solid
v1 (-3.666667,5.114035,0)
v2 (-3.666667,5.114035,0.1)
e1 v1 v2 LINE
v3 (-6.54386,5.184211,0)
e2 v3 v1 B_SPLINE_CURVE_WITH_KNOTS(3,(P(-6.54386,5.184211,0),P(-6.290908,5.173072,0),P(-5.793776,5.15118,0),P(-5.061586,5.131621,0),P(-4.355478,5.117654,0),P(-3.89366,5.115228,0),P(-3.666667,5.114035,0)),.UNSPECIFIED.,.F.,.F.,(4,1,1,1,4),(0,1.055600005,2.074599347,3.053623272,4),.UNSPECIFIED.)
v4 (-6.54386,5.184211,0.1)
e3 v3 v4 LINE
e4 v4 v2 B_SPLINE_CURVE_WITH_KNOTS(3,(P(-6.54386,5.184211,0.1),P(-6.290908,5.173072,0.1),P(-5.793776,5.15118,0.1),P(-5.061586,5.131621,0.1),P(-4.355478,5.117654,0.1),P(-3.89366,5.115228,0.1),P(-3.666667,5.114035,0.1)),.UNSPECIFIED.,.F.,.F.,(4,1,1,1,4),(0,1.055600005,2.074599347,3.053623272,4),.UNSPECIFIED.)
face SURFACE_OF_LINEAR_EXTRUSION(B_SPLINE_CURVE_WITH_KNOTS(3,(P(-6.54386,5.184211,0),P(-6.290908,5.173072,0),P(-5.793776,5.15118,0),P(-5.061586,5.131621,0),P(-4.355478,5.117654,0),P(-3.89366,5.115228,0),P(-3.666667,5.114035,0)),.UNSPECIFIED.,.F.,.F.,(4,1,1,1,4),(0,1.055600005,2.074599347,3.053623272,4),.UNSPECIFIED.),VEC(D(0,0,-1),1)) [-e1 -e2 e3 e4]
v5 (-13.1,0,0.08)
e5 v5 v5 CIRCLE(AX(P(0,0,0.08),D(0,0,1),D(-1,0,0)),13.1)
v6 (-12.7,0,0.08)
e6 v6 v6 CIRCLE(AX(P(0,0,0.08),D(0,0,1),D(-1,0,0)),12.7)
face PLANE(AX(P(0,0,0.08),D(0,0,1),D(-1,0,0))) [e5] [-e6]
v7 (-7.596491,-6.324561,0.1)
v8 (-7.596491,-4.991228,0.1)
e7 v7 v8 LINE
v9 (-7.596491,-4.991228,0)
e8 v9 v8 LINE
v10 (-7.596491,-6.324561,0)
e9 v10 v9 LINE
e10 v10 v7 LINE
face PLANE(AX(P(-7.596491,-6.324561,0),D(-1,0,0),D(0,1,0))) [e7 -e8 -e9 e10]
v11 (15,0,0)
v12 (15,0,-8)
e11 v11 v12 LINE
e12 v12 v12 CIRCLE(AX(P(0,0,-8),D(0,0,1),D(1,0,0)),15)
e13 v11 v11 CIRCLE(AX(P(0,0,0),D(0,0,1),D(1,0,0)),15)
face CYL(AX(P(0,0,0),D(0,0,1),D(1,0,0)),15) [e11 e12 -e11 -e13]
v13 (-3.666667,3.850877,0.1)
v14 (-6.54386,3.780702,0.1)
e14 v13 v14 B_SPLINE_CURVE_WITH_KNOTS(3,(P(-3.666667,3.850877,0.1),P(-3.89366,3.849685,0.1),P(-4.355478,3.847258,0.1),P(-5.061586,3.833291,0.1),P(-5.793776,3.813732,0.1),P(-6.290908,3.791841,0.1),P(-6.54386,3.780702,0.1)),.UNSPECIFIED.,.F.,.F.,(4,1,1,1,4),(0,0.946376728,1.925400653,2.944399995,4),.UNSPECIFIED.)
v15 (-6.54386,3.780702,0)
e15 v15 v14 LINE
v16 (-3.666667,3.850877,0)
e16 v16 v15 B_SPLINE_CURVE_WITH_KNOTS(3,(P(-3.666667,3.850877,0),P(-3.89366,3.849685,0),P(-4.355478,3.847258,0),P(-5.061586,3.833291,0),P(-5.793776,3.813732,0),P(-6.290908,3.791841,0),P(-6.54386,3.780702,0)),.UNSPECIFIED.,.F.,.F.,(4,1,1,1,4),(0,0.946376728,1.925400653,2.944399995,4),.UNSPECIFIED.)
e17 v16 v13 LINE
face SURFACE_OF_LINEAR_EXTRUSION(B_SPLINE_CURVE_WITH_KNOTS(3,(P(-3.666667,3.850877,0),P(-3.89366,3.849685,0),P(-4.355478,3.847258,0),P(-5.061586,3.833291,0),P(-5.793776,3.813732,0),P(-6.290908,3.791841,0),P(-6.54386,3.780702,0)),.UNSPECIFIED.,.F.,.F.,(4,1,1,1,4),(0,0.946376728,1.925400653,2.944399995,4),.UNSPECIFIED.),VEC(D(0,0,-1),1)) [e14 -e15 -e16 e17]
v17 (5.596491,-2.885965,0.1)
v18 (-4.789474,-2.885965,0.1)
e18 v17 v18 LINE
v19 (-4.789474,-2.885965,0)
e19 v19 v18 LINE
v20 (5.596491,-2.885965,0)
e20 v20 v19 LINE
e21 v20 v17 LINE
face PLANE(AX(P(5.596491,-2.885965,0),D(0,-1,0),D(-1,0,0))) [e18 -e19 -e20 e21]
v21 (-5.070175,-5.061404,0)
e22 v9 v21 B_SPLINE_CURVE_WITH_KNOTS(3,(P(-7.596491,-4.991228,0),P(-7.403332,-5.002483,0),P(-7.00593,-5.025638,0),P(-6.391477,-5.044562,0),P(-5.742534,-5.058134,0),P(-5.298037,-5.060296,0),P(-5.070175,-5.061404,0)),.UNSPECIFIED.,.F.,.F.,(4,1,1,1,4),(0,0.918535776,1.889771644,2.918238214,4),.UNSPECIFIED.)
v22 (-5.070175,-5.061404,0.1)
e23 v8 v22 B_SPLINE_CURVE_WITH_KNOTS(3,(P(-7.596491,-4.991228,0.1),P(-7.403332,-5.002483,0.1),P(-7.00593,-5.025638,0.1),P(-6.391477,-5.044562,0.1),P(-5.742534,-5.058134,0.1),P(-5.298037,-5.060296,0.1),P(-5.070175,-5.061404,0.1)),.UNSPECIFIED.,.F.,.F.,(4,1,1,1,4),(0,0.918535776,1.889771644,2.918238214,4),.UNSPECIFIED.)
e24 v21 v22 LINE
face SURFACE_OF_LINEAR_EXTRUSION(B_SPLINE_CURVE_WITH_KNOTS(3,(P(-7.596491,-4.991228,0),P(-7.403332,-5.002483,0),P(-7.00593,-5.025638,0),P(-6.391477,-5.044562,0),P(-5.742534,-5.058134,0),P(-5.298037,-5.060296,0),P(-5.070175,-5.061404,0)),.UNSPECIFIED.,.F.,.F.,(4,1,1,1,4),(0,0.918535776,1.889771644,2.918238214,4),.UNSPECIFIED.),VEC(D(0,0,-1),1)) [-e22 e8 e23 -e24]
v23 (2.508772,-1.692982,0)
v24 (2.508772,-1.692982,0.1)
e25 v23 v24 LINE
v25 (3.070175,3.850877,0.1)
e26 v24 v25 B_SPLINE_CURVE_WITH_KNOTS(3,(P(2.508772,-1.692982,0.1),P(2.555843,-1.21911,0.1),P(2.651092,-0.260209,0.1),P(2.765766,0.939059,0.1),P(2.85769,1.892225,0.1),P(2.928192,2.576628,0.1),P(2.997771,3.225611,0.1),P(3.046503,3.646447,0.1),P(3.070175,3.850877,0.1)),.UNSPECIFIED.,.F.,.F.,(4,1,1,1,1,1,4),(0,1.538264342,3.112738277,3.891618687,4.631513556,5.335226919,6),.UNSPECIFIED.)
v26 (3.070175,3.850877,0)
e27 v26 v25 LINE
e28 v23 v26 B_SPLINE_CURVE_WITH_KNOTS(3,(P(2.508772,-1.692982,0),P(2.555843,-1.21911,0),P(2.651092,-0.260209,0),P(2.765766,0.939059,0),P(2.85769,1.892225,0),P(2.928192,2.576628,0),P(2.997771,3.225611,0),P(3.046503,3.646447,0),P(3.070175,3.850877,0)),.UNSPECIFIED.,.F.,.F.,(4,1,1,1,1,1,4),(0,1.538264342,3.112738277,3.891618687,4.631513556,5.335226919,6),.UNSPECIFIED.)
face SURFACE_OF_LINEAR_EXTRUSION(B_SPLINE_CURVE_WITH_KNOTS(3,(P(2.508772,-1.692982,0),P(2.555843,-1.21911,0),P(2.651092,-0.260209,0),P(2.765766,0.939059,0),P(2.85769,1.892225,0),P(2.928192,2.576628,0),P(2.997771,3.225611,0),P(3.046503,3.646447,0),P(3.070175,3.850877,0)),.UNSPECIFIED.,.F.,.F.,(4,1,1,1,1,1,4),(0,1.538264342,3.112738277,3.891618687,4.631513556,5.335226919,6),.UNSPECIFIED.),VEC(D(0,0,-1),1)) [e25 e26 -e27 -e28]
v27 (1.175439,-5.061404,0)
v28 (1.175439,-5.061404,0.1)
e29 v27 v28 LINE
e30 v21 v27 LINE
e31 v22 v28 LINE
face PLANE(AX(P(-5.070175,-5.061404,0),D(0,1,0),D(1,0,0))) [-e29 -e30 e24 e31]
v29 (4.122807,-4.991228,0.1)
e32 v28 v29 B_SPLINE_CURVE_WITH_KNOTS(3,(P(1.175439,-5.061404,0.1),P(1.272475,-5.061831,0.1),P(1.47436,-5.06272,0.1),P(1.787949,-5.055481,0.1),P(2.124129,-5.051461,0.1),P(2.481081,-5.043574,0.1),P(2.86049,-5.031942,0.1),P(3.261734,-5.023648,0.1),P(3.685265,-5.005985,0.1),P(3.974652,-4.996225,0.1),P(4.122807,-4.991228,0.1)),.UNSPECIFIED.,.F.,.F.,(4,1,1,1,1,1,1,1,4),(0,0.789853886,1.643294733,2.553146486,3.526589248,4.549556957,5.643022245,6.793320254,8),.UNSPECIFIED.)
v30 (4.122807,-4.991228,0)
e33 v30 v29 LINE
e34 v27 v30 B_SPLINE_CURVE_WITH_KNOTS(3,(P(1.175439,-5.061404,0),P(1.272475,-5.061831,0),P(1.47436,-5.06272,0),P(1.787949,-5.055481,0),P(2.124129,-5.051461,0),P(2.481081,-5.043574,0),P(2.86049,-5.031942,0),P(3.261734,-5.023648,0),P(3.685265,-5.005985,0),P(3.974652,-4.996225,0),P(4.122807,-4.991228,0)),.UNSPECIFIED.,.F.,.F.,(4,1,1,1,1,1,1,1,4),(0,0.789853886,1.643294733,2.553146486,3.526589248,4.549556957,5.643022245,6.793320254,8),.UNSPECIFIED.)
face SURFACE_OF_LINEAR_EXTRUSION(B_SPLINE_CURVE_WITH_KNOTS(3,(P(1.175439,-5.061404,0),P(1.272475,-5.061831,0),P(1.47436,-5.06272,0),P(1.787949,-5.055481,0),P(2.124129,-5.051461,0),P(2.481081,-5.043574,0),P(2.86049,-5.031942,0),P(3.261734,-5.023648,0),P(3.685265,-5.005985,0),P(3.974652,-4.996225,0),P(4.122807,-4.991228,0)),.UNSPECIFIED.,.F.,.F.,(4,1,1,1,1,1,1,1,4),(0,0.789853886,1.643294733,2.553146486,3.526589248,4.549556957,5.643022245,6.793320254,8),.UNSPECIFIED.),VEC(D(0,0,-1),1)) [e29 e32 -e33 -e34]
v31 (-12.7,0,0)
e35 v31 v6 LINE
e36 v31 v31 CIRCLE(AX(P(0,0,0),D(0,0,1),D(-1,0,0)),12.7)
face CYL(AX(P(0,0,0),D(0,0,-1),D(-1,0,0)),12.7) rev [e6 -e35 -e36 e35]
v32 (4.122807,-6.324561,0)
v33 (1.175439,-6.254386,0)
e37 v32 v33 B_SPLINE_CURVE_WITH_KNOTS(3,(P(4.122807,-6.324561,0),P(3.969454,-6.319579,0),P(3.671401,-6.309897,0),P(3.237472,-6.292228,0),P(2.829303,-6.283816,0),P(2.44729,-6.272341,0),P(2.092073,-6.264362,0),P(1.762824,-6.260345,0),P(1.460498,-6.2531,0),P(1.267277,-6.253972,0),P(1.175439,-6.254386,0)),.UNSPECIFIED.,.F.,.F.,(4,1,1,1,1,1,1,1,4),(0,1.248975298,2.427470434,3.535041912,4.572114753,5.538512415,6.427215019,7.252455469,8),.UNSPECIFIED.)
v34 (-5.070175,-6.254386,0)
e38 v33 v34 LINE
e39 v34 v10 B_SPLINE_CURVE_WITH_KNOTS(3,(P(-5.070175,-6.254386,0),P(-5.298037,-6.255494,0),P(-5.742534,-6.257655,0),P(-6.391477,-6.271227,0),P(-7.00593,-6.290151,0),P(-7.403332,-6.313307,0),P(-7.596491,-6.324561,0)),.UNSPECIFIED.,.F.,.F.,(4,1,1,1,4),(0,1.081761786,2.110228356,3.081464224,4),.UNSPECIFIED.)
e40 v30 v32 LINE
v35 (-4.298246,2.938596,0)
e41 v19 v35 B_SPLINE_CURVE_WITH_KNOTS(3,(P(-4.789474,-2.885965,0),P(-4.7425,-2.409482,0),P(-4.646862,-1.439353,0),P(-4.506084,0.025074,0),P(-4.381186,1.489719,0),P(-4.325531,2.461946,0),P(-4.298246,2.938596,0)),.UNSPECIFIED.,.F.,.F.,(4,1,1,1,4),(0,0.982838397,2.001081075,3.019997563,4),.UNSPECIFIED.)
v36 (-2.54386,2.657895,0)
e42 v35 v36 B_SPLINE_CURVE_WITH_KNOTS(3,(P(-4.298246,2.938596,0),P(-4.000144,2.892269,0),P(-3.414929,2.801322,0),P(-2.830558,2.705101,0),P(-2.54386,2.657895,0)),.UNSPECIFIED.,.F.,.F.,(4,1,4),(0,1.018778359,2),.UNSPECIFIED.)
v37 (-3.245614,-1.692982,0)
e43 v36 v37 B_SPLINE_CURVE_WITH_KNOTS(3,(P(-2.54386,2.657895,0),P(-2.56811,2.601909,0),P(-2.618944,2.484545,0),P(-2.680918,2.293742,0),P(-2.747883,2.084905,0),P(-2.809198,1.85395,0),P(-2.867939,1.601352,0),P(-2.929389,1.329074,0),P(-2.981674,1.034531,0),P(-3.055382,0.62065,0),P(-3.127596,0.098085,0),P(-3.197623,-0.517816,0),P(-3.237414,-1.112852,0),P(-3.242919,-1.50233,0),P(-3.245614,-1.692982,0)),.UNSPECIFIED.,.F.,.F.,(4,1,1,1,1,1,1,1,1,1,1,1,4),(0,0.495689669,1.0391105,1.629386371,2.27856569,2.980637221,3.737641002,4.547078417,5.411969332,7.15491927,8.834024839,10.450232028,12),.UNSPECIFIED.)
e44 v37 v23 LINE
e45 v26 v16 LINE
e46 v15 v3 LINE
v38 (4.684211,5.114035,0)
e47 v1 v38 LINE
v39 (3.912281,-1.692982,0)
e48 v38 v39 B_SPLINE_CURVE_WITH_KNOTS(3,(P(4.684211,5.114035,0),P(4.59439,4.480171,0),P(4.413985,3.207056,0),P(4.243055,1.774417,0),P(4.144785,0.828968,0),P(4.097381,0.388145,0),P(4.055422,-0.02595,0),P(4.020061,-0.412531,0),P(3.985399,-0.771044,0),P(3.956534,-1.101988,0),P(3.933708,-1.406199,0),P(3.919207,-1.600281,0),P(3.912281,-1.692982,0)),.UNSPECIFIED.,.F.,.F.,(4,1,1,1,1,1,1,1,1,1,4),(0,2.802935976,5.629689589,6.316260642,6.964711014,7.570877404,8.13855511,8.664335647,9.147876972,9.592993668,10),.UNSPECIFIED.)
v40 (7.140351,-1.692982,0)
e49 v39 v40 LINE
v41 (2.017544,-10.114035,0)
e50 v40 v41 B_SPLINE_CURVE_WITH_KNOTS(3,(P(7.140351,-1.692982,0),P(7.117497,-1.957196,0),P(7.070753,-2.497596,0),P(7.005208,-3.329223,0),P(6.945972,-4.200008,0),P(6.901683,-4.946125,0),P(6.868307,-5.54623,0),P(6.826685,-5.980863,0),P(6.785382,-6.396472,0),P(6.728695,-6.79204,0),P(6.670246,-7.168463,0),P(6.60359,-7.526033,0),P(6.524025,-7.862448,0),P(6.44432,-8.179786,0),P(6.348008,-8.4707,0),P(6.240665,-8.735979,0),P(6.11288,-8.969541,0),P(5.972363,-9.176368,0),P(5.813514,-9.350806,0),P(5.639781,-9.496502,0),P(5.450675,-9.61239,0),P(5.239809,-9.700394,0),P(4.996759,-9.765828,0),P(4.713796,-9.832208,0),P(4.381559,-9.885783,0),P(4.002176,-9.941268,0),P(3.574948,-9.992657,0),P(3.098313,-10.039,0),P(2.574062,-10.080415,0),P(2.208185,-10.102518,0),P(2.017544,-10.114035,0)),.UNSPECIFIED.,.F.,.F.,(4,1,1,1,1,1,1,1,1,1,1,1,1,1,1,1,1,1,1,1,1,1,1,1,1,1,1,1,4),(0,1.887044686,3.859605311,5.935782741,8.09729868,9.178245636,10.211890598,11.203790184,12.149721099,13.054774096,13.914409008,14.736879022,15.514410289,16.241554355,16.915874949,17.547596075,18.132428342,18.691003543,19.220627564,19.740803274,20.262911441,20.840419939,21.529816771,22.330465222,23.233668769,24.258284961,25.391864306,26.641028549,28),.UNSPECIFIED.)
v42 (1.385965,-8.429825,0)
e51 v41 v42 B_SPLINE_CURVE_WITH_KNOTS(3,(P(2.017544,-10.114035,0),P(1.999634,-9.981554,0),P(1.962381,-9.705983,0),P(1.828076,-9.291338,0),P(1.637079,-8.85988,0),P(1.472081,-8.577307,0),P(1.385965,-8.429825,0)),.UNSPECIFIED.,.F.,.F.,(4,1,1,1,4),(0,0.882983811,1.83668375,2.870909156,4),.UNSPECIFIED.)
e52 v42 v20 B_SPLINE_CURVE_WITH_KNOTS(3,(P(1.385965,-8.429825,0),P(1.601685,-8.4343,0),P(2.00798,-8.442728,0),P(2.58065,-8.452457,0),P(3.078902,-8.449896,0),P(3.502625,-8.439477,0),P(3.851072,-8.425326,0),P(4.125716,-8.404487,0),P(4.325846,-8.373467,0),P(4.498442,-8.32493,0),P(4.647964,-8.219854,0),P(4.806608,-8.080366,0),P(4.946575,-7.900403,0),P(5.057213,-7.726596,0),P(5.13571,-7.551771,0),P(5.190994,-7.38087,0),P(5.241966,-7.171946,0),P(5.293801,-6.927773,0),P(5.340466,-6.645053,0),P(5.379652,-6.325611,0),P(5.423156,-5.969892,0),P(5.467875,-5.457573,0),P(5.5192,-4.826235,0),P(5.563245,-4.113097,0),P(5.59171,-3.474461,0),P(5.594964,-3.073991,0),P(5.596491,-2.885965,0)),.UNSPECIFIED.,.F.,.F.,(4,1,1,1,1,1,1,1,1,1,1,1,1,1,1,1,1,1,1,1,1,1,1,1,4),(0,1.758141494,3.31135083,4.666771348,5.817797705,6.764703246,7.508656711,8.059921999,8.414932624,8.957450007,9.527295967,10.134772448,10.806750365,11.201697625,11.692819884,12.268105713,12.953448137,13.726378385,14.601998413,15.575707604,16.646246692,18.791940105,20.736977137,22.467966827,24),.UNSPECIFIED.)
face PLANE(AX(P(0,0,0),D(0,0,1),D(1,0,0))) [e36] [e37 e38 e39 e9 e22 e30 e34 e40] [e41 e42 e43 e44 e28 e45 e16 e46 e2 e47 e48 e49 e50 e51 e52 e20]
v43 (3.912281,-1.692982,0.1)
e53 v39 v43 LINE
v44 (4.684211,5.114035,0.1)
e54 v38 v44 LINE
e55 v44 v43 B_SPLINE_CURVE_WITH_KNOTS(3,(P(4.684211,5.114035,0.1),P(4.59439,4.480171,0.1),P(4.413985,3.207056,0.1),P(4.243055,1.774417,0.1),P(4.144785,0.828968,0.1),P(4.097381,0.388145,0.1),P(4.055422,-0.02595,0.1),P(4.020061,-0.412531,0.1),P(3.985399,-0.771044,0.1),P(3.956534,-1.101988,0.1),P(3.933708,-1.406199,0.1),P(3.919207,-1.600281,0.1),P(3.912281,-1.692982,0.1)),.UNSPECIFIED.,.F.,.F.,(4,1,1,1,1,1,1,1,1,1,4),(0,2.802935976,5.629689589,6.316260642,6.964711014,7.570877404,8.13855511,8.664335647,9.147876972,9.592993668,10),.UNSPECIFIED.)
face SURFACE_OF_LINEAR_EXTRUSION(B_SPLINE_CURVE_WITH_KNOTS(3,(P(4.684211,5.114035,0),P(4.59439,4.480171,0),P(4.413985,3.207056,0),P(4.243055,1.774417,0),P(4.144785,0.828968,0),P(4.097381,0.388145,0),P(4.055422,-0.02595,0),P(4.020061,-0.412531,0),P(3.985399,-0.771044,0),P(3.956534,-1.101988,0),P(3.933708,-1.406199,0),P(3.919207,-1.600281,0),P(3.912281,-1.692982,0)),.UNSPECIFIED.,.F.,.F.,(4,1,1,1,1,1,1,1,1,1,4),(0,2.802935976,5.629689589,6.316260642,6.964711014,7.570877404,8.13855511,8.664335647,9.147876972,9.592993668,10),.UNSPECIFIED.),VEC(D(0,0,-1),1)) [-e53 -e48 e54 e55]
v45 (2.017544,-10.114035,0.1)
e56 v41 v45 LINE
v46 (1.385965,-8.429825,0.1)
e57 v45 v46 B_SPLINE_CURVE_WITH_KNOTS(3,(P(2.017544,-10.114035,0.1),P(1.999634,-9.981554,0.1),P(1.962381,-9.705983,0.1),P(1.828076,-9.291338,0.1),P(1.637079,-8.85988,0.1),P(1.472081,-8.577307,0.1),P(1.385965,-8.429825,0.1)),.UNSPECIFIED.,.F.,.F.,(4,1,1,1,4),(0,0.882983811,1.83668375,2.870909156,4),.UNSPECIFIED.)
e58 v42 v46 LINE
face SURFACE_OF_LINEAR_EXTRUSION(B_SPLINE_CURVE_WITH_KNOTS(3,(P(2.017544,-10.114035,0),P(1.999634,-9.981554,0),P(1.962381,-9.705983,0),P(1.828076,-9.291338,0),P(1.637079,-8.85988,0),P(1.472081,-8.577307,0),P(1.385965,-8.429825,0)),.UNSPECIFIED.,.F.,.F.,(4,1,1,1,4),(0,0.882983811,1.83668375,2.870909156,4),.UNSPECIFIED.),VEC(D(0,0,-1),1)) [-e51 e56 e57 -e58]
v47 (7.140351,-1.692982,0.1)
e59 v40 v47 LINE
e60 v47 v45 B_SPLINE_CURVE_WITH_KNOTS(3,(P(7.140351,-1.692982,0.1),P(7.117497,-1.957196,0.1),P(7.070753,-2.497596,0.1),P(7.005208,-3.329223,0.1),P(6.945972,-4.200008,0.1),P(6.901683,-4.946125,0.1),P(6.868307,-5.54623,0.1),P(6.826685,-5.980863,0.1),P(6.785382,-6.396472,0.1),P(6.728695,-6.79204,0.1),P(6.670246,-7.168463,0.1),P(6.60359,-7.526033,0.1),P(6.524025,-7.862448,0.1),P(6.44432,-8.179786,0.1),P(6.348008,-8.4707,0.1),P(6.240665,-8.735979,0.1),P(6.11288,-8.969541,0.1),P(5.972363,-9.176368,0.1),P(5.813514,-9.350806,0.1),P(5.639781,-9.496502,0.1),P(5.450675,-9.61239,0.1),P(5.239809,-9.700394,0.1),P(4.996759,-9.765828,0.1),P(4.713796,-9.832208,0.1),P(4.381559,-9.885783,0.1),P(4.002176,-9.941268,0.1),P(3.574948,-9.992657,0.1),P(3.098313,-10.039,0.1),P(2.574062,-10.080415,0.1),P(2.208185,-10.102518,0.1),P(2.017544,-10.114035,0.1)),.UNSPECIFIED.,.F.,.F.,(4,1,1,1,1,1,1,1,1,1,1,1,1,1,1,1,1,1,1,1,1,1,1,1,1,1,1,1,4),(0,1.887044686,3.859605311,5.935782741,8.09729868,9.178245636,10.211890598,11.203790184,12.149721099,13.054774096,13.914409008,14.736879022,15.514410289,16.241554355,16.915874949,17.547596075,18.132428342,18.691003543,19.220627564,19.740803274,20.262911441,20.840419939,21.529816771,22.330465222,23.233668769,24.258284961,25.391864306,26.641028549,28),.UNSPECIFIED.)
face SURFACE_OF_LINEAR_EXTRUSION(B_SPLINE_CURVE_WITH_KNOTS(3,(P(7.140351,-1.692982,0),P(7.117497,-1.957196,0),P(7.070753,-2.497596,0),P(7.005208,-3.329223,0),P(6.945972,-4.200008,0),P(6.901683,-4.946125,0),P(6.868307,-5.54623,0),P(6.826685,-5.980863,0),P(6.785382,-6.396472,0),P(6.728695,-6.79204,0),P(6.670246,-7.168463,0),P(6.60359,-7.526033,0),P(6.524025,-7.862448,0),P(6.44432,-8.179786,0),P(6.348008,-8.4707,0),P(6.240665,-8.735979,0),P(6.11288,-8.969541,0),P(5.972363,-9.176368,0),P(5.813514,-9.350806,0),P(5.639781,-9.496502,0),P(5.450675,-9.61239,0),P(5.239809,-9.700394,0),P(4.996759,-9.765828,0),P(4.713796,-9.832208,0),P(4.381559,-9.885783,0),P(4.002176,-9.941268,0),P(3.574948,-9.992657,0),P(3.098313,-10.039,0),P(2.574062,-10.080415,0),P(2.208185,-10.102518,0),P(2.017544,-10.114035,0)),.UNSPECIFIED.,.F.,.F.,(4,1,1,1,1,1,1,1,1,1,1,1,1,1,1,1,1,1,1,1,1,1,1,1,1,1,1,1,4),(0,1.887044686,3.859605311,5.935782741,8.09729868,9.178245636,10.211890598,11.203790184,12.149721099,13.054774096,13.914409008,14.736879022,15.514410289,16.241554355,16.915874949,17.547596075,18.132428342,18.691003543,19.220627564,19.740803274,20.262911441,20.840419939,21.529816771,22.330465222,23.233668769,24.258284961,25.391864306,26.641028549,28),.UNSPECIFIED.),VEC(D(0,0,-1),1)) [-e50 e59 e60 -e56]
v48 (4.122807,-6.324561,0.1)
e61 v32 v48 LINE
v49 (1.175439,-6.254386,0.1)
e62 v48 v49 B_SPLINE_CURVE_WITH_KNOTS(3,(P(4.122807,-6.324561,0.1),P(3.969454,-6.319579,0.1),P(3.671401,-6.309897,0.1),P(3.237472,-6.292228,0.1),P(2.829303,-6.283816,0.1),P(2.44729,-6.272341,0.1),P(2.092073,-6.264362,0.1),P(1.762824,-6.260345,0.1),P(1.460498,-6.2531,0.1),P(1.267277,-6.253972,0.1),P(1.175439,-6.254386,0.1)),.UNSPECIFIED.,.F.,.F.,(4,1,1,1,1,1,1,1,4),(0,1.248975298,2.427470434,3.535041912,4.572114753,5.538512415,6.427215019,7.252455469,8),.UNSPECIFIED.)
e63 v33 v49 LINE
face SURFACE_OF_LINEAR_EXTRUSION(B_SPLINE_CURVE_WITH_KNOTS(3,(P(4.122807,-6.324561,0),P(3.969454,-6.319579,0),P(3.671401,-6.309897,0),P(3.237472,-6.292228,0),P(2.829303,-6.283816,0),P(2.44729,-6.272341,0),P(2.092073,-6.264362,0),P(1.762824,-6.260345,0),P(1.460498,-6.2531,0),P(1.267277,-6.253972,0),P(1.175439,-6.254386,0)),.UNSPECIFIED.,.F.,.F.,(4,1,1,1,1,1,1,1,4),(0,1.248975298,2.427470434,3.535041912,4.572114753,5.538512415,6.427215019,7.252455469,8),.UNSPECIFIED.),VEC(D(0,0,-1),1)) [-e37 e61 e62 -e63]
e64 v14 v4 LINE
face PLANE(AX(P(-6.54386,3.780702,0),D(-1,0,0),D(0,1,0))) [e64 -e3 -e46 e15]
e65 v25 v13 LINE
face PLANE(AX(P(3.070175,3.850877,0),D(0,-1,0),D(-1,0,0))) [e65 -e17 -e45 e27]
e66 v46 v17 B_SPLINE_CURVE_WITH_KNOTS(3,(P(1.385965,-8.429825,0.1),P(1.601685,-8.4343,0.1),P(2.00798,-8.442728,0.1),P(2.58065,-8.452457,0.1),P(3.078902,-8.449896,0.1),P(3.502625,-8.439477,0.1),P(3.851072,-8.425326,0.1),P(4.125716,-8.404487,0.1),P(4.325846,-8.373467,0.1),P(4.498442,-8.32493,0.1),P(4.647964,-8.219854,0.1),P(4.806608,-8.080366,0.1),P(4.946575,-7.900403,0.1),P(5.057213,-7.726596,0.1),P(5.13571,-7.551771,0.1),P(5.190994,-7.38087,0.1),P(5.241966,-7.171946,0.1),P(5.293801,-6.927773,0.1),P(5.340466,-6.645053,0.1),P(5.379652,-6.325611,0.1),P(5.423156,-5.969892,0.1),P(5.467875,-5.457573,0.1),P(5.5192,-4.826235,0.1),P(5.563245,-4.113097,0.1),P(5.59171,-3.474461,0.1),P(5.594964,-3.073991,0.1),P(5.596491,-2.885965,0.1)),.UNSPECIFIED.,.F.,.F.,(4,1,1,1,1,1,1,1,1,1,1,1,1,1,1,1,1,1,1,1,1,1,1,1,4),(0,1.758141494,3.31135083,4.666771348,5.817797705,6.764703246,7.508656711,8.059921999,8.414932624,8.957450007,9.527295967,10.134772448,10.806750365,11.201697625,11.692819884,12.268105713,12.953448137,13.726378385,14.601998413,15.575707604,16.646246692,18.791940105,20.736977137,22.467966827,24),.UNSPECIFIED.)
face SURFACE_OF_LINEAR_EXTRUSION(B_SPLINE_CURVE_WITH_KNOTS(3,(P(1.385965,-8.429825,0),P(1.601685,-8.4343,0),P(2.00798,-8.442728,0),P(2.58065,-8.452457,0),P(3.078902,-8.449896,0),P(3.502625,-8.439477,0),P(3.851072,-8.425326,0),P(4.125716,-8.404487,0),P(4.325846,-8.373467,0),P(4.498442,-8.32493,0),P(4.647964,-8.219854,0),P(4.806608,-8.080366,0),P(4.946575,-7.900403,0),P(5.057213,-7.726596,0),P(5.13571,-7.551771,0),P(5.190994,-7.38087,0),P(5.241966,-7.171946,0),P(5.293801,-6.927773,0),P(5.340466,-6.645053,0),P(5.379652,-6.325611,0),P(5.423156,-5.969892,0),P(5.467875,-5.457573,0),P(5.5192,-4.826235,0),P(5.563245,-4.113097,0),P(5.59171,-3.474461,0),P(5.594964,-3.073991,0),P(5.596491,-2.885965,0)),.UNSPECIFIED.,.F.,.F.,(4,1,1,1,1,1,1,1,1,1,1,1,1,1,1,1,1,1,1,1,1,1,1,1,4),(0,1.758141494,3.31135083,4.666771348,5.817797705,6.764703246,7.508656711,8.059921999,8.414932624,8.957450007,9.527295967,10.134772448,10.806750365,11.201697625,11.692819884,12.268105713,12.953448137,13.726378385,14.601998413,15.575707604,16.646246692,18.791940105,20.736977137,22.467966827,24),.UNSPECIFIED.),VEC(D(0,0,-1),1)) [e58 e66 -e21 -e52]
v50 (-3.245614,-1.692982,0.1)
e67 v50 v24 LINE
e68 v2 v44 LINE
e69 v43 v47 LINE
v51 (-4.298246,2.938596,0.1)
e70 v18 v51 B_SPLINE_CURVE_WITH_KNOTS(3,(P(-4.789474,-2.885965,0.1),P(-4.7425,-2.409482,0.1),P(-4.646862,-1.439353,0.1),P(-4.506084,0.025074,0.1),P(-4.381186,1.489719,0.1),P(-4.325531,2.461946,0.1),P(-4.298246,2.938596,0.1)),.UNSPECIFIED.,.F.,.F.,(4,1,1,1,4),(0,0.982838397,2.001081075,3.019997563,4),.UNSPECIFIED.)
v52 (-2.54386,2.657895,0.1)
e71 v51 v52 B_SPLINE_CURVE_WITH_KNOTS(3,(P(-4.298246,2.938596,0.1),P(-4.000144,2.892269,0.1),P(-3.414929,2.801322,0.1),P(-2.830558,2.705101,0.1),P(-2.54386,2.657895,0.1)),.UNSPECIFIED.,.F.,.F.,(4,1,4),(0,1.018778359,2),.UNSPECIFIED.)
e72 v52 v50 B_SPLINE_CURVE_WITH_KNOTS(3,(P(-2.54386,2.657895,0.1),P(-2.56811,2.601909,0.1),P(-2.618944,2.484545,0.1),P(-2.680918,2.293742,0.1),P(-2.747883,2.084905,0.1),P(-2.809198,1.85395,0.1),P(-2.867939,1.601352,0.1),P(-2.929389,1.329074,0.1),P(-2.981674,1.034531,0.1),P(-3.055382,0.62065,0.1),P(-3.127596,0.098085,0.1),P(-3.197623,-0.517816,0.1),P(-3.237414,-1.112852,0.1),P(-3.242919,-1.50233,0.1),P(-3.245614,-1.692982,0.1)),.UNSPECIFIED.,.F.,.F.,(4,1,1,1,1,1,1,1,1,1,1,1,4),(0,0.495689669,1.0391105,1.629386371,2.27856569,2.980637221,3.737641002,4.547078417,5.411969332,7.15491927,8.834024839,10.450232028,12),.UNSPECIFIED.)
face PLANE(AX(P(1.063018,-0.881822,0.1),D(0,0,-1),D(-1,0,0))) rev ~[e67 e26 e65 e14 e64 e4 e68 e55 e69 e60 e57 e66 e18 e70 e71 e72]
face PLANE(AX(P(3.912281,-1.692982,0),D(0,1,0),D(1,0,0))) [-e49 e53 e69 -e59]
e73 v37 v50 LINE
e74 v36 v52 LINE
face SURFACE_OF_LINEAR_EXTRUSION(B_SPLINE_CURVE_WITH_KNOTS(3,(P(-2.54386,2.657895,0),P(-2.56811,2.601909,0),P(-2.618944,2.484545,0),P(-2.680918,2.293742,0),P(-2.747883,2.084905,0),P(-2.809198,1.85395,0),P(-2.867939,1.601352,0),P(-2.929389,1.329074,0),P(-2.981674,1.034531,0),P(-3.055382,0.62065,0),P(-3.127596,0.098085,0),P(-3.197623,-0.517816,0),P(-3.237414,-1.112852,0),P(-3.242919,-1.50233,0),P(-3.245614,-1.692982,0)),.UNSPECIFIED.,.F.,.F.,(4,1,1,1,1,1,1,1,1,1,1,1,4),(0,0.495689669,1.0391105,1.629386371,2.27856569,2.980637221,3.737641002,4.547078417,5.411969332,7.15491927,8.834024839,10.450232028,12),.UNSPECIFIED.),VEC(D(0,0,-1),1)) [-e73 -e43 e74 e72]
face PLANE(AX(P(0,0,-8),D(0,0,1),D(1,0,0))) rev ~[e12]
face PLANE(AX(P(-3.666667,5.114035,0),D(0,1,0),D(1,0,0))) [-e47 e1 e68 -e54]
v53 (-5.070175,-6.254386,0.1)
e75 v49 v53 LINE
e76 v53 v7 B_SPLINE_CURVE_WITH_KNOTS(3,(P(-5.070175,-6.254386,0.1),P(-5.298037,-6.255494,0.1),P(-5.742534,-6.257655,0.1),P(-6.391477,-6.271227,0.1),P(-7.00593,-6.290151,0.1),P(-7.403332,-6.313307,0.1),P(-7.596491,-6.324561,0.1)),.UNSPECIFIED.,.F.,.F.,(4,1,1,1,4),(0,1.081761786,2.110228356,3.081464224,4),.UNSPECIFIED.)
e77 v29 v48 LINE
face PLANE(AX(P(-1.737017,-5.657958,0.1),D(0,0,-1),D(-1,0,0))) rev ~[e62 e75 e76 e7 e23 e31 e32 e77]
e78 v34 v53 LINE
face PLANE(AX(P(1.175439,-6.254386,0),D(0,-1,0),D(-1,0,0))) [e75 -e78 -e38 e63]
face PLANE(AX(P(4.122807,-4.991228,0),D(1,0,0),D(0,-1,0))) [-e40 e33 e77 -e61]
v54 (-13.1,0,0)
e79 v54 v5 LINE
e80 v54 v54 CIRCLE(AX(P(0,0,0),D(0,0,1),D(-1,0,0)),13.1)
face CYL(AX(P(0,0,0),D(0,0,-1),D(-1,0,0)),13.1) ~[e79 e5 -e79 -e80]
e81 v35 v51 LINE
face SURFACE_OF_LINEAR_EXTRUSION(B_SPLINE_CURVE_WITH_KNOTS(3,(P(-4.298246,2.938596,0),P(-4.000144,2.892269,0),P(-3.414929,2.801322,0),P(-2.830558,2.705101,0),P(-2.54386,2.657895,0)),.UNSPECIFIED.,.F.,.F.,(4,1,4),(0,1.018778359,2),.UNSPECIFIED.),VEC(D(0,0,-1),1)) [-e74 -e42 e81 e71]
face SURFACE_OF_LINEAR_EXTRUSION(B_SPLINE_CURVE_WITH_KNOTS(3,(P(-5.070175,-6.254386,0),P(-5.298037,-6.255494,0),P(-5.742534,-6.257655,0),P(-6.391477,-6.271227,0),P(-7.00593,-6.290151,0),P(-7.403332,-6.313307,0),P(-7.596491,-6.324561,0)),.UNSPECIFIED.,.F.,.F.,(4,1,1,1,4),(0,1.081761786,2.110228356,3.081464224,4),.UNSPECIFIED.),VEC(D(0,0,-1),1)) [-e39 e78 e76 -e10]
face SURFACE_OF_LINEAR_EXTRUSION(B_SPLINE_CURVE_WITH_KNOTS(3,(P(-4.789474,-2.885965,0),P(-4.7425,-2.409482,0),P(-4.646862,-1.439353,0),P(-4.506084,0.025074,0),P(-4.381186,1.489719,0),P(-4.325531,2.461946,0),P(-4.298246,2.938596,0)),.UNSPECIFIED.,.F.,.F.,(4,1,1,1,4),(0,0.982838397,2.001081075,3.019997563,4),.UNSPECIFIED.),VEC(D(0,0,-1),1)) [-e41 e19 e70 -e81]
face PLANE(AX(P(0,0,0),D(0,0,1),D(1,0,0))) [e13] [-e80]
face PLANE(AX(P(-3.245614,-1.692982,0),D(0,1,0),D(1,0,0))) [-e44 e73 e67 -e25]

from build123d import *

# Parameters (mm, degrees)
SKETCH_1_R               = 15
DIAMETER30_HEIGHT8_DEPTH = 8
CHARACTER_DEPTH          = 0.1
SKETCH_3_R               = 13.1
SKETCH_3_R_2             = 12.7
INK_RING_DEPTH           = 0.08


with BuildPart() as part:
    # 草图1 → Diameter30_Height8 (new body)
    with BuildSketch(Plane.XY):
        Circle(SKETCH_1_R)
    extrude(amount=-DIAMETER30_HEIGHT8_DEPTH)

    # 草图2 → Character_马 (add)
    with BuildSketch(Plane.XY):
        with BuildLine():
            add(Edge.make_bspline(
                [(-2.543859649, 2.657894737), (-2.568109523, 2.601908638), (-2.618944351, 2.484545403), (-2.68091831, 2.29374228), (-2.747882739, 2.084905171), (-2.809197893, 1.853949883), (-2.867938942, 1.601351852), (-2.929388828, 1.329074257), (-2.981674213, 1.034530608), (-3.05538164, 0.620649676), (-3.127595616, 0.098084884), (-3.197623224, -0.517816396), (-3.237414282, -1.112851594), (-3.242919292, -1.502329954), (-3.245614035, -1.692982456)],
                knots=[0, 0, 0, 0, 0.495689669, 1.0391105, 1.629386371, 2.27856569, 2.980637221, 3.737641002, 4.547078417, 5.411969332, 7.15491927, 8.834024839, 10.450232028, 12, 12, 12, 12], degree=3))
            Line((-3.245614035, -1.692982456), (2.50877193, -1.692982456))
            add(Edge.make_bspline(
                [(2.50877193, -1.692982456), (2.555842668, -1.219109546), (2.651092154, -0.26020911), (2.765765857, 0.939059138), (2.857689962, 1.892225125), (2.928191701, 2.576627854), (2.997770846, 3.225611417), (3.046502797, 3.646446892), (3.070175439, 3.850877193)],
                knots=[0, 0, 0, 0, 1.538264342, 3.112738277, 3.891618687, 4.631513556, 5.335226919, 6, 6, 6, 6], degree=3))
            Line((3.070175439, 3.850877193), (-3.666666667, 3.850877193))
            add(Edge.make_bspline(
                [(-3.666666667, 3.850877193), (-3.893660384, 3.849684604), (-4.355478431, 3.847258285), (-5.06158577, 3.833290973), (-5.793776141, 3.813732), (-6.290908298, 3.791840575), (-6.543859649, 3.780701754)],
                knots=[0, 0, 0, 0, 0.946376728, 1.925400653, 2.944399995, 4, 4, 4, 4], degree=3))
            Line((-6.543859649, 3.780701754), (-6.543859649, 5.184210526))
            add(Edge.make_bspline(
                [(-6.543859649, 5.184210526), (-6.290908298, 5.173071706), (-5.793776141, 5.15118028), (-5.06158577, 5.131621308), (-4.355478431, 5.117653996), (-3.893660384, 5.115227677), (-3.666666667, 5.114035088)],
                knots=[0, 0, 0, 0, 1.055600005, 2.074599347, 3.053623272, 4, 4, 4, 4], degree=3))
            Line((-3.666666667, 5.114035088), (4.684210526, 5.114035088))
            add(Edge.make_bspline(
                [(4.684210526, 5.114035088), (4.594389665, 4.480170947), (4.4139847, 3.207056477), (4.243054526, 1.774416685), (4.14478495, 0.828967937), (4.097381465, 0.388144624), (4.055421695, -0.025950303), (4.020061293, -0.412530658), (3.985399458, -0.77104386), (3.956533585, -1.101987754), (3.933708028, -1.406199086), (3.919206962, -1.600281379), (3.912280702, -1.692982456)],
                knots=[0, 0, 0, 0, 2.802935976, 5.629689589, 6.316260642, 6.964711014, 7.570877404, 8.13855511, 8.664335647, 9.147876972, 9.592993668, 10, 10, 10, 10], degree=3))
            Line((3.912280702, -1.692982456), (7.140350877, -1.692982456))
            add(Edge.make_bspline(
                [(7.140350877, -1.692982456), (7.117496771, -1.957195671), (7.070752869, -2.497595555), (7.005207646, -3.329223298), (6.94597212, -4.200007765), (6.901683429, -4.946124678), (6.868307152, -5.546229635), (6.826684596, -5.980862849), (6.785382047, -6.39647152), (6.728695376, -6.792040318), (6.670245675, -7.168463089), (6.603590191, -7.526033406), (6.524025139, -7.862448123), (6.444320105, -8.179786345), (6.348007699, -8.470700422), (6.240664659, -8.735979197), (6.112879912, -8.969541099), (5.972363355, -9.176368475), (5.813514, -9.350805736), (5.639780874, -9.496502029), (5.450674708, -9.612389616), (5.239809272, -9.700393942), (4.996758723, -9.765827824), (4.713795659, -9.832208089), (4.381558555, -9.885783366), (4.002176073, -9.941267696), (3.574948301, -9.992657478), (3.098313267, -10.039000074), (2.574062445, -10.080415008), (2.208184758, -10.1025182), (2.01754386, -10.114035088)],
                knots=[0, 0, 0, 0, 1.887044686, 3.859605311, 5.935782741, 8.09729868, 9.178245636, 10.211890598, 11.203790184, 12.149721099, 13.054774096, 13.914409008, 14.736879022, 15.514410289, 16.241554355, 16.915874949, 17.547596075, 18.132428342, 18.691003543, 19.220627564, 19.740803274, 20.262911441, 20.840419939, 21.529816771, 22.330465222, 23.233668769, 24.258284961, 25.391864306, 26.641028549, 28, 28, 28, 28], degree=3))
            add(Edge.make_bspline(
                [(2.01754386, -10.114035088), (1.999634211, -9.981554353), (1.962380573, -9.705982807), (1.828075725, -9.291338106), (1.637078715, -8.859880402), (1.472081327, -8.577306965), (1.385964912, -8.429824561)],
                knots=[0, 0, 0, 0, 0.882983811, 1.83668375, 2.870909156, 4, 4, 4, 4], degree=3))
            add(Edge.make_bspline(
                [(1.385964912, -8.429824561), (1.601684871, -8.434299725), (2.00798008, -8.44272842), (2.580650352, -8.452457271), (3.078902343, -8.449896251), (3.50262546, -8.439476904), (3.851072115, -8.425325844), (4.125715661, -8.404487351), (4.325845969, -8.373466937), (4.498441923, -8.324930212), (4.647964297, -8.219854178), (4.806608465, -8.080366), (4.946574967, -7.900402806), (5.057213348, -7.72659571), (5.135709742, -7.551771137), (5.19099419, -7.380870408), (5.241966461, -7.171945715), (5.293801136, -6.927772939), (5.340465741, -6.64505285), (5.379651802, -6.325610866), (5.42315596, -5.969892033), (5.467875091, -5.457573461), (5.519200344, -4.8262348), (5.563244909, -4.113096685), (5.591709685, -3.474461181), (5.594963512, -3.073991037), (5.596491228, -2.885964912)],
                knots=[0, 0, 0, 0, 1.758141494, 3.31135083, 4.666771348, 5.817797705, 6.764703246, 7.508656711, 8.059921999, 8.414932624, 8.957450007, 9.527295967, 10.134772448, 10.806750365, 11.201697625, 11.692819884, 12.268105713, 12.953448137, 13.726378385, 14.601998413, 15.575707604, 16.646246692, 18.791940105, 20.736977137, 22.467966827, 24, 24, 24, 24], degree=3))
            Line((5.596491228, -2.885964912), (-4.789473684, -2.885964912))
            add(Edge.make_bspline(
                [(-4.789473684, -2.885964912), (-4.742500482, -2.409482331), (-4.646861986, -1.439353083), (-4.506084048, 0.025074391), (-4.381186338, 1.489718928), (-4.325531367, 2.461946264), (-4.298245614, 2.938596491)],
                knots=[0, 0, 0, 0, 0.982838397, 2.001081075, 3.019997563, 4, 4, 4, 4], degree=3))
            add(Edge.make_bspline(
                [(-4.298245614, 2.938596491), (-4.000143593, 2.892268938), (-3.414928922, 2.801321673), (-2.830558232, 2.705101429), (-2.543859649, 2.657894737)],
                knots=[0, 0, 0, 0, 1.018778359, 2, 2, 2, 2], degree=3))
        make_face()
        with BuildLine():
            add(Edge.make_bspline(
                [(1.175438596, -5.061403509), (1.272474939, -5.06183074), (1.474359506, -5.062719598), (1.787949201, -5.055481089), (2.124128563, -5.051460824), (2.48108109, -5.043574331), (2.860490404, -5.031942174), (3.261734399, -5.023647615), (3.685265265, -5.005984943), (3.974652272, -4.996224852), (4.122807018, -4.99122807)],
                knots=[0, 0, 0, 0, 0.789853886, 1.643294733, 2.553146486, 3.526589248, 4.549556957, 5.643022245, 6.793320254, 8, 8, 8, 8], degree=3))
            Line((4.122807018, -4.99122807), (4.122807018, -6.324561404))
            add(Edge.make_bspline(
                [(4.122807018, -6.324561404), (3.969453719, -6.319579397), (3.671400907, -6.309896522), (3.237471852, -6.292228161), (2.829302521, -6.283816356), (2.447289567, -6.272341119), (2.09207297, -6.264362463), (1.762823851, -6.260344735), (1.460498309, -6.253100348), (1.267276772, -6.253971776), (1.175438596, -6.254385965)],
                knots=[0, 0, 0, 0, 1.248975298, 2.427470434, 3.535041912, 4.572114753, 5.538512415, 6.427215019, 7.252455469, 8, 8, 8, 8], degree=3))
            Line((1.175438596, -6.254385965), (-5.070175439, -6.254385965))
            add(Edge.make_bspline(
                [(-5.070175439, -6.254385965), (-5.298037146, -6.255493864), (-5.742534486, -6.257655079), (-6.391477007, -6.271227092), (-7.005930309, -6.290151347), (-7.403331701, -6.313306629), (-7.596491228, -6.324561404)],
                knots=[0, 0, 0, 0, 1.081761786, 2.110228356, 3.081464224, 4, 4, 4, 4], degree=3))
            Line((-7.596491228, -6.324561404), (-7.596491228, -4.99122807))
            add(Edge.make_bspline(
                [(-7.596491228, -4.99122807), (-7.403331701, -5.002482845), (-7.005930309, -5.025638127), (-6.391477007, -5.044562382), (-5.742534486, -5.058134395), (-5.298037146, -5.06029561), (-5.070175439, -5.061403509)],
                knots=[0, 0, 0, 0, 0.918535776, 1.889771644, 2.918238214, 4, 4, 4, 4], degree=3))
            Line((-5.070175439, -5.061403509), (1.175438596, -5.061403509))
        make_face()
    extrude(amount=CHARACTER_DEPTH)

    # 草图3 → Ink_ring (add)
    with BuildSketch(Plane.XY):
        with Locations(Location((0, 0, 0), (0, 0, 180))):
            Circle(SKETCH_3_R)
        with Locations(Location((0, 0, 0), (0, 0, 180))):
            Circle(SKETCH_3_R_2, mode=Mode.SUBTRACT)
    extrude(amount=INK_RING_DEPTH)


solid = part.part
